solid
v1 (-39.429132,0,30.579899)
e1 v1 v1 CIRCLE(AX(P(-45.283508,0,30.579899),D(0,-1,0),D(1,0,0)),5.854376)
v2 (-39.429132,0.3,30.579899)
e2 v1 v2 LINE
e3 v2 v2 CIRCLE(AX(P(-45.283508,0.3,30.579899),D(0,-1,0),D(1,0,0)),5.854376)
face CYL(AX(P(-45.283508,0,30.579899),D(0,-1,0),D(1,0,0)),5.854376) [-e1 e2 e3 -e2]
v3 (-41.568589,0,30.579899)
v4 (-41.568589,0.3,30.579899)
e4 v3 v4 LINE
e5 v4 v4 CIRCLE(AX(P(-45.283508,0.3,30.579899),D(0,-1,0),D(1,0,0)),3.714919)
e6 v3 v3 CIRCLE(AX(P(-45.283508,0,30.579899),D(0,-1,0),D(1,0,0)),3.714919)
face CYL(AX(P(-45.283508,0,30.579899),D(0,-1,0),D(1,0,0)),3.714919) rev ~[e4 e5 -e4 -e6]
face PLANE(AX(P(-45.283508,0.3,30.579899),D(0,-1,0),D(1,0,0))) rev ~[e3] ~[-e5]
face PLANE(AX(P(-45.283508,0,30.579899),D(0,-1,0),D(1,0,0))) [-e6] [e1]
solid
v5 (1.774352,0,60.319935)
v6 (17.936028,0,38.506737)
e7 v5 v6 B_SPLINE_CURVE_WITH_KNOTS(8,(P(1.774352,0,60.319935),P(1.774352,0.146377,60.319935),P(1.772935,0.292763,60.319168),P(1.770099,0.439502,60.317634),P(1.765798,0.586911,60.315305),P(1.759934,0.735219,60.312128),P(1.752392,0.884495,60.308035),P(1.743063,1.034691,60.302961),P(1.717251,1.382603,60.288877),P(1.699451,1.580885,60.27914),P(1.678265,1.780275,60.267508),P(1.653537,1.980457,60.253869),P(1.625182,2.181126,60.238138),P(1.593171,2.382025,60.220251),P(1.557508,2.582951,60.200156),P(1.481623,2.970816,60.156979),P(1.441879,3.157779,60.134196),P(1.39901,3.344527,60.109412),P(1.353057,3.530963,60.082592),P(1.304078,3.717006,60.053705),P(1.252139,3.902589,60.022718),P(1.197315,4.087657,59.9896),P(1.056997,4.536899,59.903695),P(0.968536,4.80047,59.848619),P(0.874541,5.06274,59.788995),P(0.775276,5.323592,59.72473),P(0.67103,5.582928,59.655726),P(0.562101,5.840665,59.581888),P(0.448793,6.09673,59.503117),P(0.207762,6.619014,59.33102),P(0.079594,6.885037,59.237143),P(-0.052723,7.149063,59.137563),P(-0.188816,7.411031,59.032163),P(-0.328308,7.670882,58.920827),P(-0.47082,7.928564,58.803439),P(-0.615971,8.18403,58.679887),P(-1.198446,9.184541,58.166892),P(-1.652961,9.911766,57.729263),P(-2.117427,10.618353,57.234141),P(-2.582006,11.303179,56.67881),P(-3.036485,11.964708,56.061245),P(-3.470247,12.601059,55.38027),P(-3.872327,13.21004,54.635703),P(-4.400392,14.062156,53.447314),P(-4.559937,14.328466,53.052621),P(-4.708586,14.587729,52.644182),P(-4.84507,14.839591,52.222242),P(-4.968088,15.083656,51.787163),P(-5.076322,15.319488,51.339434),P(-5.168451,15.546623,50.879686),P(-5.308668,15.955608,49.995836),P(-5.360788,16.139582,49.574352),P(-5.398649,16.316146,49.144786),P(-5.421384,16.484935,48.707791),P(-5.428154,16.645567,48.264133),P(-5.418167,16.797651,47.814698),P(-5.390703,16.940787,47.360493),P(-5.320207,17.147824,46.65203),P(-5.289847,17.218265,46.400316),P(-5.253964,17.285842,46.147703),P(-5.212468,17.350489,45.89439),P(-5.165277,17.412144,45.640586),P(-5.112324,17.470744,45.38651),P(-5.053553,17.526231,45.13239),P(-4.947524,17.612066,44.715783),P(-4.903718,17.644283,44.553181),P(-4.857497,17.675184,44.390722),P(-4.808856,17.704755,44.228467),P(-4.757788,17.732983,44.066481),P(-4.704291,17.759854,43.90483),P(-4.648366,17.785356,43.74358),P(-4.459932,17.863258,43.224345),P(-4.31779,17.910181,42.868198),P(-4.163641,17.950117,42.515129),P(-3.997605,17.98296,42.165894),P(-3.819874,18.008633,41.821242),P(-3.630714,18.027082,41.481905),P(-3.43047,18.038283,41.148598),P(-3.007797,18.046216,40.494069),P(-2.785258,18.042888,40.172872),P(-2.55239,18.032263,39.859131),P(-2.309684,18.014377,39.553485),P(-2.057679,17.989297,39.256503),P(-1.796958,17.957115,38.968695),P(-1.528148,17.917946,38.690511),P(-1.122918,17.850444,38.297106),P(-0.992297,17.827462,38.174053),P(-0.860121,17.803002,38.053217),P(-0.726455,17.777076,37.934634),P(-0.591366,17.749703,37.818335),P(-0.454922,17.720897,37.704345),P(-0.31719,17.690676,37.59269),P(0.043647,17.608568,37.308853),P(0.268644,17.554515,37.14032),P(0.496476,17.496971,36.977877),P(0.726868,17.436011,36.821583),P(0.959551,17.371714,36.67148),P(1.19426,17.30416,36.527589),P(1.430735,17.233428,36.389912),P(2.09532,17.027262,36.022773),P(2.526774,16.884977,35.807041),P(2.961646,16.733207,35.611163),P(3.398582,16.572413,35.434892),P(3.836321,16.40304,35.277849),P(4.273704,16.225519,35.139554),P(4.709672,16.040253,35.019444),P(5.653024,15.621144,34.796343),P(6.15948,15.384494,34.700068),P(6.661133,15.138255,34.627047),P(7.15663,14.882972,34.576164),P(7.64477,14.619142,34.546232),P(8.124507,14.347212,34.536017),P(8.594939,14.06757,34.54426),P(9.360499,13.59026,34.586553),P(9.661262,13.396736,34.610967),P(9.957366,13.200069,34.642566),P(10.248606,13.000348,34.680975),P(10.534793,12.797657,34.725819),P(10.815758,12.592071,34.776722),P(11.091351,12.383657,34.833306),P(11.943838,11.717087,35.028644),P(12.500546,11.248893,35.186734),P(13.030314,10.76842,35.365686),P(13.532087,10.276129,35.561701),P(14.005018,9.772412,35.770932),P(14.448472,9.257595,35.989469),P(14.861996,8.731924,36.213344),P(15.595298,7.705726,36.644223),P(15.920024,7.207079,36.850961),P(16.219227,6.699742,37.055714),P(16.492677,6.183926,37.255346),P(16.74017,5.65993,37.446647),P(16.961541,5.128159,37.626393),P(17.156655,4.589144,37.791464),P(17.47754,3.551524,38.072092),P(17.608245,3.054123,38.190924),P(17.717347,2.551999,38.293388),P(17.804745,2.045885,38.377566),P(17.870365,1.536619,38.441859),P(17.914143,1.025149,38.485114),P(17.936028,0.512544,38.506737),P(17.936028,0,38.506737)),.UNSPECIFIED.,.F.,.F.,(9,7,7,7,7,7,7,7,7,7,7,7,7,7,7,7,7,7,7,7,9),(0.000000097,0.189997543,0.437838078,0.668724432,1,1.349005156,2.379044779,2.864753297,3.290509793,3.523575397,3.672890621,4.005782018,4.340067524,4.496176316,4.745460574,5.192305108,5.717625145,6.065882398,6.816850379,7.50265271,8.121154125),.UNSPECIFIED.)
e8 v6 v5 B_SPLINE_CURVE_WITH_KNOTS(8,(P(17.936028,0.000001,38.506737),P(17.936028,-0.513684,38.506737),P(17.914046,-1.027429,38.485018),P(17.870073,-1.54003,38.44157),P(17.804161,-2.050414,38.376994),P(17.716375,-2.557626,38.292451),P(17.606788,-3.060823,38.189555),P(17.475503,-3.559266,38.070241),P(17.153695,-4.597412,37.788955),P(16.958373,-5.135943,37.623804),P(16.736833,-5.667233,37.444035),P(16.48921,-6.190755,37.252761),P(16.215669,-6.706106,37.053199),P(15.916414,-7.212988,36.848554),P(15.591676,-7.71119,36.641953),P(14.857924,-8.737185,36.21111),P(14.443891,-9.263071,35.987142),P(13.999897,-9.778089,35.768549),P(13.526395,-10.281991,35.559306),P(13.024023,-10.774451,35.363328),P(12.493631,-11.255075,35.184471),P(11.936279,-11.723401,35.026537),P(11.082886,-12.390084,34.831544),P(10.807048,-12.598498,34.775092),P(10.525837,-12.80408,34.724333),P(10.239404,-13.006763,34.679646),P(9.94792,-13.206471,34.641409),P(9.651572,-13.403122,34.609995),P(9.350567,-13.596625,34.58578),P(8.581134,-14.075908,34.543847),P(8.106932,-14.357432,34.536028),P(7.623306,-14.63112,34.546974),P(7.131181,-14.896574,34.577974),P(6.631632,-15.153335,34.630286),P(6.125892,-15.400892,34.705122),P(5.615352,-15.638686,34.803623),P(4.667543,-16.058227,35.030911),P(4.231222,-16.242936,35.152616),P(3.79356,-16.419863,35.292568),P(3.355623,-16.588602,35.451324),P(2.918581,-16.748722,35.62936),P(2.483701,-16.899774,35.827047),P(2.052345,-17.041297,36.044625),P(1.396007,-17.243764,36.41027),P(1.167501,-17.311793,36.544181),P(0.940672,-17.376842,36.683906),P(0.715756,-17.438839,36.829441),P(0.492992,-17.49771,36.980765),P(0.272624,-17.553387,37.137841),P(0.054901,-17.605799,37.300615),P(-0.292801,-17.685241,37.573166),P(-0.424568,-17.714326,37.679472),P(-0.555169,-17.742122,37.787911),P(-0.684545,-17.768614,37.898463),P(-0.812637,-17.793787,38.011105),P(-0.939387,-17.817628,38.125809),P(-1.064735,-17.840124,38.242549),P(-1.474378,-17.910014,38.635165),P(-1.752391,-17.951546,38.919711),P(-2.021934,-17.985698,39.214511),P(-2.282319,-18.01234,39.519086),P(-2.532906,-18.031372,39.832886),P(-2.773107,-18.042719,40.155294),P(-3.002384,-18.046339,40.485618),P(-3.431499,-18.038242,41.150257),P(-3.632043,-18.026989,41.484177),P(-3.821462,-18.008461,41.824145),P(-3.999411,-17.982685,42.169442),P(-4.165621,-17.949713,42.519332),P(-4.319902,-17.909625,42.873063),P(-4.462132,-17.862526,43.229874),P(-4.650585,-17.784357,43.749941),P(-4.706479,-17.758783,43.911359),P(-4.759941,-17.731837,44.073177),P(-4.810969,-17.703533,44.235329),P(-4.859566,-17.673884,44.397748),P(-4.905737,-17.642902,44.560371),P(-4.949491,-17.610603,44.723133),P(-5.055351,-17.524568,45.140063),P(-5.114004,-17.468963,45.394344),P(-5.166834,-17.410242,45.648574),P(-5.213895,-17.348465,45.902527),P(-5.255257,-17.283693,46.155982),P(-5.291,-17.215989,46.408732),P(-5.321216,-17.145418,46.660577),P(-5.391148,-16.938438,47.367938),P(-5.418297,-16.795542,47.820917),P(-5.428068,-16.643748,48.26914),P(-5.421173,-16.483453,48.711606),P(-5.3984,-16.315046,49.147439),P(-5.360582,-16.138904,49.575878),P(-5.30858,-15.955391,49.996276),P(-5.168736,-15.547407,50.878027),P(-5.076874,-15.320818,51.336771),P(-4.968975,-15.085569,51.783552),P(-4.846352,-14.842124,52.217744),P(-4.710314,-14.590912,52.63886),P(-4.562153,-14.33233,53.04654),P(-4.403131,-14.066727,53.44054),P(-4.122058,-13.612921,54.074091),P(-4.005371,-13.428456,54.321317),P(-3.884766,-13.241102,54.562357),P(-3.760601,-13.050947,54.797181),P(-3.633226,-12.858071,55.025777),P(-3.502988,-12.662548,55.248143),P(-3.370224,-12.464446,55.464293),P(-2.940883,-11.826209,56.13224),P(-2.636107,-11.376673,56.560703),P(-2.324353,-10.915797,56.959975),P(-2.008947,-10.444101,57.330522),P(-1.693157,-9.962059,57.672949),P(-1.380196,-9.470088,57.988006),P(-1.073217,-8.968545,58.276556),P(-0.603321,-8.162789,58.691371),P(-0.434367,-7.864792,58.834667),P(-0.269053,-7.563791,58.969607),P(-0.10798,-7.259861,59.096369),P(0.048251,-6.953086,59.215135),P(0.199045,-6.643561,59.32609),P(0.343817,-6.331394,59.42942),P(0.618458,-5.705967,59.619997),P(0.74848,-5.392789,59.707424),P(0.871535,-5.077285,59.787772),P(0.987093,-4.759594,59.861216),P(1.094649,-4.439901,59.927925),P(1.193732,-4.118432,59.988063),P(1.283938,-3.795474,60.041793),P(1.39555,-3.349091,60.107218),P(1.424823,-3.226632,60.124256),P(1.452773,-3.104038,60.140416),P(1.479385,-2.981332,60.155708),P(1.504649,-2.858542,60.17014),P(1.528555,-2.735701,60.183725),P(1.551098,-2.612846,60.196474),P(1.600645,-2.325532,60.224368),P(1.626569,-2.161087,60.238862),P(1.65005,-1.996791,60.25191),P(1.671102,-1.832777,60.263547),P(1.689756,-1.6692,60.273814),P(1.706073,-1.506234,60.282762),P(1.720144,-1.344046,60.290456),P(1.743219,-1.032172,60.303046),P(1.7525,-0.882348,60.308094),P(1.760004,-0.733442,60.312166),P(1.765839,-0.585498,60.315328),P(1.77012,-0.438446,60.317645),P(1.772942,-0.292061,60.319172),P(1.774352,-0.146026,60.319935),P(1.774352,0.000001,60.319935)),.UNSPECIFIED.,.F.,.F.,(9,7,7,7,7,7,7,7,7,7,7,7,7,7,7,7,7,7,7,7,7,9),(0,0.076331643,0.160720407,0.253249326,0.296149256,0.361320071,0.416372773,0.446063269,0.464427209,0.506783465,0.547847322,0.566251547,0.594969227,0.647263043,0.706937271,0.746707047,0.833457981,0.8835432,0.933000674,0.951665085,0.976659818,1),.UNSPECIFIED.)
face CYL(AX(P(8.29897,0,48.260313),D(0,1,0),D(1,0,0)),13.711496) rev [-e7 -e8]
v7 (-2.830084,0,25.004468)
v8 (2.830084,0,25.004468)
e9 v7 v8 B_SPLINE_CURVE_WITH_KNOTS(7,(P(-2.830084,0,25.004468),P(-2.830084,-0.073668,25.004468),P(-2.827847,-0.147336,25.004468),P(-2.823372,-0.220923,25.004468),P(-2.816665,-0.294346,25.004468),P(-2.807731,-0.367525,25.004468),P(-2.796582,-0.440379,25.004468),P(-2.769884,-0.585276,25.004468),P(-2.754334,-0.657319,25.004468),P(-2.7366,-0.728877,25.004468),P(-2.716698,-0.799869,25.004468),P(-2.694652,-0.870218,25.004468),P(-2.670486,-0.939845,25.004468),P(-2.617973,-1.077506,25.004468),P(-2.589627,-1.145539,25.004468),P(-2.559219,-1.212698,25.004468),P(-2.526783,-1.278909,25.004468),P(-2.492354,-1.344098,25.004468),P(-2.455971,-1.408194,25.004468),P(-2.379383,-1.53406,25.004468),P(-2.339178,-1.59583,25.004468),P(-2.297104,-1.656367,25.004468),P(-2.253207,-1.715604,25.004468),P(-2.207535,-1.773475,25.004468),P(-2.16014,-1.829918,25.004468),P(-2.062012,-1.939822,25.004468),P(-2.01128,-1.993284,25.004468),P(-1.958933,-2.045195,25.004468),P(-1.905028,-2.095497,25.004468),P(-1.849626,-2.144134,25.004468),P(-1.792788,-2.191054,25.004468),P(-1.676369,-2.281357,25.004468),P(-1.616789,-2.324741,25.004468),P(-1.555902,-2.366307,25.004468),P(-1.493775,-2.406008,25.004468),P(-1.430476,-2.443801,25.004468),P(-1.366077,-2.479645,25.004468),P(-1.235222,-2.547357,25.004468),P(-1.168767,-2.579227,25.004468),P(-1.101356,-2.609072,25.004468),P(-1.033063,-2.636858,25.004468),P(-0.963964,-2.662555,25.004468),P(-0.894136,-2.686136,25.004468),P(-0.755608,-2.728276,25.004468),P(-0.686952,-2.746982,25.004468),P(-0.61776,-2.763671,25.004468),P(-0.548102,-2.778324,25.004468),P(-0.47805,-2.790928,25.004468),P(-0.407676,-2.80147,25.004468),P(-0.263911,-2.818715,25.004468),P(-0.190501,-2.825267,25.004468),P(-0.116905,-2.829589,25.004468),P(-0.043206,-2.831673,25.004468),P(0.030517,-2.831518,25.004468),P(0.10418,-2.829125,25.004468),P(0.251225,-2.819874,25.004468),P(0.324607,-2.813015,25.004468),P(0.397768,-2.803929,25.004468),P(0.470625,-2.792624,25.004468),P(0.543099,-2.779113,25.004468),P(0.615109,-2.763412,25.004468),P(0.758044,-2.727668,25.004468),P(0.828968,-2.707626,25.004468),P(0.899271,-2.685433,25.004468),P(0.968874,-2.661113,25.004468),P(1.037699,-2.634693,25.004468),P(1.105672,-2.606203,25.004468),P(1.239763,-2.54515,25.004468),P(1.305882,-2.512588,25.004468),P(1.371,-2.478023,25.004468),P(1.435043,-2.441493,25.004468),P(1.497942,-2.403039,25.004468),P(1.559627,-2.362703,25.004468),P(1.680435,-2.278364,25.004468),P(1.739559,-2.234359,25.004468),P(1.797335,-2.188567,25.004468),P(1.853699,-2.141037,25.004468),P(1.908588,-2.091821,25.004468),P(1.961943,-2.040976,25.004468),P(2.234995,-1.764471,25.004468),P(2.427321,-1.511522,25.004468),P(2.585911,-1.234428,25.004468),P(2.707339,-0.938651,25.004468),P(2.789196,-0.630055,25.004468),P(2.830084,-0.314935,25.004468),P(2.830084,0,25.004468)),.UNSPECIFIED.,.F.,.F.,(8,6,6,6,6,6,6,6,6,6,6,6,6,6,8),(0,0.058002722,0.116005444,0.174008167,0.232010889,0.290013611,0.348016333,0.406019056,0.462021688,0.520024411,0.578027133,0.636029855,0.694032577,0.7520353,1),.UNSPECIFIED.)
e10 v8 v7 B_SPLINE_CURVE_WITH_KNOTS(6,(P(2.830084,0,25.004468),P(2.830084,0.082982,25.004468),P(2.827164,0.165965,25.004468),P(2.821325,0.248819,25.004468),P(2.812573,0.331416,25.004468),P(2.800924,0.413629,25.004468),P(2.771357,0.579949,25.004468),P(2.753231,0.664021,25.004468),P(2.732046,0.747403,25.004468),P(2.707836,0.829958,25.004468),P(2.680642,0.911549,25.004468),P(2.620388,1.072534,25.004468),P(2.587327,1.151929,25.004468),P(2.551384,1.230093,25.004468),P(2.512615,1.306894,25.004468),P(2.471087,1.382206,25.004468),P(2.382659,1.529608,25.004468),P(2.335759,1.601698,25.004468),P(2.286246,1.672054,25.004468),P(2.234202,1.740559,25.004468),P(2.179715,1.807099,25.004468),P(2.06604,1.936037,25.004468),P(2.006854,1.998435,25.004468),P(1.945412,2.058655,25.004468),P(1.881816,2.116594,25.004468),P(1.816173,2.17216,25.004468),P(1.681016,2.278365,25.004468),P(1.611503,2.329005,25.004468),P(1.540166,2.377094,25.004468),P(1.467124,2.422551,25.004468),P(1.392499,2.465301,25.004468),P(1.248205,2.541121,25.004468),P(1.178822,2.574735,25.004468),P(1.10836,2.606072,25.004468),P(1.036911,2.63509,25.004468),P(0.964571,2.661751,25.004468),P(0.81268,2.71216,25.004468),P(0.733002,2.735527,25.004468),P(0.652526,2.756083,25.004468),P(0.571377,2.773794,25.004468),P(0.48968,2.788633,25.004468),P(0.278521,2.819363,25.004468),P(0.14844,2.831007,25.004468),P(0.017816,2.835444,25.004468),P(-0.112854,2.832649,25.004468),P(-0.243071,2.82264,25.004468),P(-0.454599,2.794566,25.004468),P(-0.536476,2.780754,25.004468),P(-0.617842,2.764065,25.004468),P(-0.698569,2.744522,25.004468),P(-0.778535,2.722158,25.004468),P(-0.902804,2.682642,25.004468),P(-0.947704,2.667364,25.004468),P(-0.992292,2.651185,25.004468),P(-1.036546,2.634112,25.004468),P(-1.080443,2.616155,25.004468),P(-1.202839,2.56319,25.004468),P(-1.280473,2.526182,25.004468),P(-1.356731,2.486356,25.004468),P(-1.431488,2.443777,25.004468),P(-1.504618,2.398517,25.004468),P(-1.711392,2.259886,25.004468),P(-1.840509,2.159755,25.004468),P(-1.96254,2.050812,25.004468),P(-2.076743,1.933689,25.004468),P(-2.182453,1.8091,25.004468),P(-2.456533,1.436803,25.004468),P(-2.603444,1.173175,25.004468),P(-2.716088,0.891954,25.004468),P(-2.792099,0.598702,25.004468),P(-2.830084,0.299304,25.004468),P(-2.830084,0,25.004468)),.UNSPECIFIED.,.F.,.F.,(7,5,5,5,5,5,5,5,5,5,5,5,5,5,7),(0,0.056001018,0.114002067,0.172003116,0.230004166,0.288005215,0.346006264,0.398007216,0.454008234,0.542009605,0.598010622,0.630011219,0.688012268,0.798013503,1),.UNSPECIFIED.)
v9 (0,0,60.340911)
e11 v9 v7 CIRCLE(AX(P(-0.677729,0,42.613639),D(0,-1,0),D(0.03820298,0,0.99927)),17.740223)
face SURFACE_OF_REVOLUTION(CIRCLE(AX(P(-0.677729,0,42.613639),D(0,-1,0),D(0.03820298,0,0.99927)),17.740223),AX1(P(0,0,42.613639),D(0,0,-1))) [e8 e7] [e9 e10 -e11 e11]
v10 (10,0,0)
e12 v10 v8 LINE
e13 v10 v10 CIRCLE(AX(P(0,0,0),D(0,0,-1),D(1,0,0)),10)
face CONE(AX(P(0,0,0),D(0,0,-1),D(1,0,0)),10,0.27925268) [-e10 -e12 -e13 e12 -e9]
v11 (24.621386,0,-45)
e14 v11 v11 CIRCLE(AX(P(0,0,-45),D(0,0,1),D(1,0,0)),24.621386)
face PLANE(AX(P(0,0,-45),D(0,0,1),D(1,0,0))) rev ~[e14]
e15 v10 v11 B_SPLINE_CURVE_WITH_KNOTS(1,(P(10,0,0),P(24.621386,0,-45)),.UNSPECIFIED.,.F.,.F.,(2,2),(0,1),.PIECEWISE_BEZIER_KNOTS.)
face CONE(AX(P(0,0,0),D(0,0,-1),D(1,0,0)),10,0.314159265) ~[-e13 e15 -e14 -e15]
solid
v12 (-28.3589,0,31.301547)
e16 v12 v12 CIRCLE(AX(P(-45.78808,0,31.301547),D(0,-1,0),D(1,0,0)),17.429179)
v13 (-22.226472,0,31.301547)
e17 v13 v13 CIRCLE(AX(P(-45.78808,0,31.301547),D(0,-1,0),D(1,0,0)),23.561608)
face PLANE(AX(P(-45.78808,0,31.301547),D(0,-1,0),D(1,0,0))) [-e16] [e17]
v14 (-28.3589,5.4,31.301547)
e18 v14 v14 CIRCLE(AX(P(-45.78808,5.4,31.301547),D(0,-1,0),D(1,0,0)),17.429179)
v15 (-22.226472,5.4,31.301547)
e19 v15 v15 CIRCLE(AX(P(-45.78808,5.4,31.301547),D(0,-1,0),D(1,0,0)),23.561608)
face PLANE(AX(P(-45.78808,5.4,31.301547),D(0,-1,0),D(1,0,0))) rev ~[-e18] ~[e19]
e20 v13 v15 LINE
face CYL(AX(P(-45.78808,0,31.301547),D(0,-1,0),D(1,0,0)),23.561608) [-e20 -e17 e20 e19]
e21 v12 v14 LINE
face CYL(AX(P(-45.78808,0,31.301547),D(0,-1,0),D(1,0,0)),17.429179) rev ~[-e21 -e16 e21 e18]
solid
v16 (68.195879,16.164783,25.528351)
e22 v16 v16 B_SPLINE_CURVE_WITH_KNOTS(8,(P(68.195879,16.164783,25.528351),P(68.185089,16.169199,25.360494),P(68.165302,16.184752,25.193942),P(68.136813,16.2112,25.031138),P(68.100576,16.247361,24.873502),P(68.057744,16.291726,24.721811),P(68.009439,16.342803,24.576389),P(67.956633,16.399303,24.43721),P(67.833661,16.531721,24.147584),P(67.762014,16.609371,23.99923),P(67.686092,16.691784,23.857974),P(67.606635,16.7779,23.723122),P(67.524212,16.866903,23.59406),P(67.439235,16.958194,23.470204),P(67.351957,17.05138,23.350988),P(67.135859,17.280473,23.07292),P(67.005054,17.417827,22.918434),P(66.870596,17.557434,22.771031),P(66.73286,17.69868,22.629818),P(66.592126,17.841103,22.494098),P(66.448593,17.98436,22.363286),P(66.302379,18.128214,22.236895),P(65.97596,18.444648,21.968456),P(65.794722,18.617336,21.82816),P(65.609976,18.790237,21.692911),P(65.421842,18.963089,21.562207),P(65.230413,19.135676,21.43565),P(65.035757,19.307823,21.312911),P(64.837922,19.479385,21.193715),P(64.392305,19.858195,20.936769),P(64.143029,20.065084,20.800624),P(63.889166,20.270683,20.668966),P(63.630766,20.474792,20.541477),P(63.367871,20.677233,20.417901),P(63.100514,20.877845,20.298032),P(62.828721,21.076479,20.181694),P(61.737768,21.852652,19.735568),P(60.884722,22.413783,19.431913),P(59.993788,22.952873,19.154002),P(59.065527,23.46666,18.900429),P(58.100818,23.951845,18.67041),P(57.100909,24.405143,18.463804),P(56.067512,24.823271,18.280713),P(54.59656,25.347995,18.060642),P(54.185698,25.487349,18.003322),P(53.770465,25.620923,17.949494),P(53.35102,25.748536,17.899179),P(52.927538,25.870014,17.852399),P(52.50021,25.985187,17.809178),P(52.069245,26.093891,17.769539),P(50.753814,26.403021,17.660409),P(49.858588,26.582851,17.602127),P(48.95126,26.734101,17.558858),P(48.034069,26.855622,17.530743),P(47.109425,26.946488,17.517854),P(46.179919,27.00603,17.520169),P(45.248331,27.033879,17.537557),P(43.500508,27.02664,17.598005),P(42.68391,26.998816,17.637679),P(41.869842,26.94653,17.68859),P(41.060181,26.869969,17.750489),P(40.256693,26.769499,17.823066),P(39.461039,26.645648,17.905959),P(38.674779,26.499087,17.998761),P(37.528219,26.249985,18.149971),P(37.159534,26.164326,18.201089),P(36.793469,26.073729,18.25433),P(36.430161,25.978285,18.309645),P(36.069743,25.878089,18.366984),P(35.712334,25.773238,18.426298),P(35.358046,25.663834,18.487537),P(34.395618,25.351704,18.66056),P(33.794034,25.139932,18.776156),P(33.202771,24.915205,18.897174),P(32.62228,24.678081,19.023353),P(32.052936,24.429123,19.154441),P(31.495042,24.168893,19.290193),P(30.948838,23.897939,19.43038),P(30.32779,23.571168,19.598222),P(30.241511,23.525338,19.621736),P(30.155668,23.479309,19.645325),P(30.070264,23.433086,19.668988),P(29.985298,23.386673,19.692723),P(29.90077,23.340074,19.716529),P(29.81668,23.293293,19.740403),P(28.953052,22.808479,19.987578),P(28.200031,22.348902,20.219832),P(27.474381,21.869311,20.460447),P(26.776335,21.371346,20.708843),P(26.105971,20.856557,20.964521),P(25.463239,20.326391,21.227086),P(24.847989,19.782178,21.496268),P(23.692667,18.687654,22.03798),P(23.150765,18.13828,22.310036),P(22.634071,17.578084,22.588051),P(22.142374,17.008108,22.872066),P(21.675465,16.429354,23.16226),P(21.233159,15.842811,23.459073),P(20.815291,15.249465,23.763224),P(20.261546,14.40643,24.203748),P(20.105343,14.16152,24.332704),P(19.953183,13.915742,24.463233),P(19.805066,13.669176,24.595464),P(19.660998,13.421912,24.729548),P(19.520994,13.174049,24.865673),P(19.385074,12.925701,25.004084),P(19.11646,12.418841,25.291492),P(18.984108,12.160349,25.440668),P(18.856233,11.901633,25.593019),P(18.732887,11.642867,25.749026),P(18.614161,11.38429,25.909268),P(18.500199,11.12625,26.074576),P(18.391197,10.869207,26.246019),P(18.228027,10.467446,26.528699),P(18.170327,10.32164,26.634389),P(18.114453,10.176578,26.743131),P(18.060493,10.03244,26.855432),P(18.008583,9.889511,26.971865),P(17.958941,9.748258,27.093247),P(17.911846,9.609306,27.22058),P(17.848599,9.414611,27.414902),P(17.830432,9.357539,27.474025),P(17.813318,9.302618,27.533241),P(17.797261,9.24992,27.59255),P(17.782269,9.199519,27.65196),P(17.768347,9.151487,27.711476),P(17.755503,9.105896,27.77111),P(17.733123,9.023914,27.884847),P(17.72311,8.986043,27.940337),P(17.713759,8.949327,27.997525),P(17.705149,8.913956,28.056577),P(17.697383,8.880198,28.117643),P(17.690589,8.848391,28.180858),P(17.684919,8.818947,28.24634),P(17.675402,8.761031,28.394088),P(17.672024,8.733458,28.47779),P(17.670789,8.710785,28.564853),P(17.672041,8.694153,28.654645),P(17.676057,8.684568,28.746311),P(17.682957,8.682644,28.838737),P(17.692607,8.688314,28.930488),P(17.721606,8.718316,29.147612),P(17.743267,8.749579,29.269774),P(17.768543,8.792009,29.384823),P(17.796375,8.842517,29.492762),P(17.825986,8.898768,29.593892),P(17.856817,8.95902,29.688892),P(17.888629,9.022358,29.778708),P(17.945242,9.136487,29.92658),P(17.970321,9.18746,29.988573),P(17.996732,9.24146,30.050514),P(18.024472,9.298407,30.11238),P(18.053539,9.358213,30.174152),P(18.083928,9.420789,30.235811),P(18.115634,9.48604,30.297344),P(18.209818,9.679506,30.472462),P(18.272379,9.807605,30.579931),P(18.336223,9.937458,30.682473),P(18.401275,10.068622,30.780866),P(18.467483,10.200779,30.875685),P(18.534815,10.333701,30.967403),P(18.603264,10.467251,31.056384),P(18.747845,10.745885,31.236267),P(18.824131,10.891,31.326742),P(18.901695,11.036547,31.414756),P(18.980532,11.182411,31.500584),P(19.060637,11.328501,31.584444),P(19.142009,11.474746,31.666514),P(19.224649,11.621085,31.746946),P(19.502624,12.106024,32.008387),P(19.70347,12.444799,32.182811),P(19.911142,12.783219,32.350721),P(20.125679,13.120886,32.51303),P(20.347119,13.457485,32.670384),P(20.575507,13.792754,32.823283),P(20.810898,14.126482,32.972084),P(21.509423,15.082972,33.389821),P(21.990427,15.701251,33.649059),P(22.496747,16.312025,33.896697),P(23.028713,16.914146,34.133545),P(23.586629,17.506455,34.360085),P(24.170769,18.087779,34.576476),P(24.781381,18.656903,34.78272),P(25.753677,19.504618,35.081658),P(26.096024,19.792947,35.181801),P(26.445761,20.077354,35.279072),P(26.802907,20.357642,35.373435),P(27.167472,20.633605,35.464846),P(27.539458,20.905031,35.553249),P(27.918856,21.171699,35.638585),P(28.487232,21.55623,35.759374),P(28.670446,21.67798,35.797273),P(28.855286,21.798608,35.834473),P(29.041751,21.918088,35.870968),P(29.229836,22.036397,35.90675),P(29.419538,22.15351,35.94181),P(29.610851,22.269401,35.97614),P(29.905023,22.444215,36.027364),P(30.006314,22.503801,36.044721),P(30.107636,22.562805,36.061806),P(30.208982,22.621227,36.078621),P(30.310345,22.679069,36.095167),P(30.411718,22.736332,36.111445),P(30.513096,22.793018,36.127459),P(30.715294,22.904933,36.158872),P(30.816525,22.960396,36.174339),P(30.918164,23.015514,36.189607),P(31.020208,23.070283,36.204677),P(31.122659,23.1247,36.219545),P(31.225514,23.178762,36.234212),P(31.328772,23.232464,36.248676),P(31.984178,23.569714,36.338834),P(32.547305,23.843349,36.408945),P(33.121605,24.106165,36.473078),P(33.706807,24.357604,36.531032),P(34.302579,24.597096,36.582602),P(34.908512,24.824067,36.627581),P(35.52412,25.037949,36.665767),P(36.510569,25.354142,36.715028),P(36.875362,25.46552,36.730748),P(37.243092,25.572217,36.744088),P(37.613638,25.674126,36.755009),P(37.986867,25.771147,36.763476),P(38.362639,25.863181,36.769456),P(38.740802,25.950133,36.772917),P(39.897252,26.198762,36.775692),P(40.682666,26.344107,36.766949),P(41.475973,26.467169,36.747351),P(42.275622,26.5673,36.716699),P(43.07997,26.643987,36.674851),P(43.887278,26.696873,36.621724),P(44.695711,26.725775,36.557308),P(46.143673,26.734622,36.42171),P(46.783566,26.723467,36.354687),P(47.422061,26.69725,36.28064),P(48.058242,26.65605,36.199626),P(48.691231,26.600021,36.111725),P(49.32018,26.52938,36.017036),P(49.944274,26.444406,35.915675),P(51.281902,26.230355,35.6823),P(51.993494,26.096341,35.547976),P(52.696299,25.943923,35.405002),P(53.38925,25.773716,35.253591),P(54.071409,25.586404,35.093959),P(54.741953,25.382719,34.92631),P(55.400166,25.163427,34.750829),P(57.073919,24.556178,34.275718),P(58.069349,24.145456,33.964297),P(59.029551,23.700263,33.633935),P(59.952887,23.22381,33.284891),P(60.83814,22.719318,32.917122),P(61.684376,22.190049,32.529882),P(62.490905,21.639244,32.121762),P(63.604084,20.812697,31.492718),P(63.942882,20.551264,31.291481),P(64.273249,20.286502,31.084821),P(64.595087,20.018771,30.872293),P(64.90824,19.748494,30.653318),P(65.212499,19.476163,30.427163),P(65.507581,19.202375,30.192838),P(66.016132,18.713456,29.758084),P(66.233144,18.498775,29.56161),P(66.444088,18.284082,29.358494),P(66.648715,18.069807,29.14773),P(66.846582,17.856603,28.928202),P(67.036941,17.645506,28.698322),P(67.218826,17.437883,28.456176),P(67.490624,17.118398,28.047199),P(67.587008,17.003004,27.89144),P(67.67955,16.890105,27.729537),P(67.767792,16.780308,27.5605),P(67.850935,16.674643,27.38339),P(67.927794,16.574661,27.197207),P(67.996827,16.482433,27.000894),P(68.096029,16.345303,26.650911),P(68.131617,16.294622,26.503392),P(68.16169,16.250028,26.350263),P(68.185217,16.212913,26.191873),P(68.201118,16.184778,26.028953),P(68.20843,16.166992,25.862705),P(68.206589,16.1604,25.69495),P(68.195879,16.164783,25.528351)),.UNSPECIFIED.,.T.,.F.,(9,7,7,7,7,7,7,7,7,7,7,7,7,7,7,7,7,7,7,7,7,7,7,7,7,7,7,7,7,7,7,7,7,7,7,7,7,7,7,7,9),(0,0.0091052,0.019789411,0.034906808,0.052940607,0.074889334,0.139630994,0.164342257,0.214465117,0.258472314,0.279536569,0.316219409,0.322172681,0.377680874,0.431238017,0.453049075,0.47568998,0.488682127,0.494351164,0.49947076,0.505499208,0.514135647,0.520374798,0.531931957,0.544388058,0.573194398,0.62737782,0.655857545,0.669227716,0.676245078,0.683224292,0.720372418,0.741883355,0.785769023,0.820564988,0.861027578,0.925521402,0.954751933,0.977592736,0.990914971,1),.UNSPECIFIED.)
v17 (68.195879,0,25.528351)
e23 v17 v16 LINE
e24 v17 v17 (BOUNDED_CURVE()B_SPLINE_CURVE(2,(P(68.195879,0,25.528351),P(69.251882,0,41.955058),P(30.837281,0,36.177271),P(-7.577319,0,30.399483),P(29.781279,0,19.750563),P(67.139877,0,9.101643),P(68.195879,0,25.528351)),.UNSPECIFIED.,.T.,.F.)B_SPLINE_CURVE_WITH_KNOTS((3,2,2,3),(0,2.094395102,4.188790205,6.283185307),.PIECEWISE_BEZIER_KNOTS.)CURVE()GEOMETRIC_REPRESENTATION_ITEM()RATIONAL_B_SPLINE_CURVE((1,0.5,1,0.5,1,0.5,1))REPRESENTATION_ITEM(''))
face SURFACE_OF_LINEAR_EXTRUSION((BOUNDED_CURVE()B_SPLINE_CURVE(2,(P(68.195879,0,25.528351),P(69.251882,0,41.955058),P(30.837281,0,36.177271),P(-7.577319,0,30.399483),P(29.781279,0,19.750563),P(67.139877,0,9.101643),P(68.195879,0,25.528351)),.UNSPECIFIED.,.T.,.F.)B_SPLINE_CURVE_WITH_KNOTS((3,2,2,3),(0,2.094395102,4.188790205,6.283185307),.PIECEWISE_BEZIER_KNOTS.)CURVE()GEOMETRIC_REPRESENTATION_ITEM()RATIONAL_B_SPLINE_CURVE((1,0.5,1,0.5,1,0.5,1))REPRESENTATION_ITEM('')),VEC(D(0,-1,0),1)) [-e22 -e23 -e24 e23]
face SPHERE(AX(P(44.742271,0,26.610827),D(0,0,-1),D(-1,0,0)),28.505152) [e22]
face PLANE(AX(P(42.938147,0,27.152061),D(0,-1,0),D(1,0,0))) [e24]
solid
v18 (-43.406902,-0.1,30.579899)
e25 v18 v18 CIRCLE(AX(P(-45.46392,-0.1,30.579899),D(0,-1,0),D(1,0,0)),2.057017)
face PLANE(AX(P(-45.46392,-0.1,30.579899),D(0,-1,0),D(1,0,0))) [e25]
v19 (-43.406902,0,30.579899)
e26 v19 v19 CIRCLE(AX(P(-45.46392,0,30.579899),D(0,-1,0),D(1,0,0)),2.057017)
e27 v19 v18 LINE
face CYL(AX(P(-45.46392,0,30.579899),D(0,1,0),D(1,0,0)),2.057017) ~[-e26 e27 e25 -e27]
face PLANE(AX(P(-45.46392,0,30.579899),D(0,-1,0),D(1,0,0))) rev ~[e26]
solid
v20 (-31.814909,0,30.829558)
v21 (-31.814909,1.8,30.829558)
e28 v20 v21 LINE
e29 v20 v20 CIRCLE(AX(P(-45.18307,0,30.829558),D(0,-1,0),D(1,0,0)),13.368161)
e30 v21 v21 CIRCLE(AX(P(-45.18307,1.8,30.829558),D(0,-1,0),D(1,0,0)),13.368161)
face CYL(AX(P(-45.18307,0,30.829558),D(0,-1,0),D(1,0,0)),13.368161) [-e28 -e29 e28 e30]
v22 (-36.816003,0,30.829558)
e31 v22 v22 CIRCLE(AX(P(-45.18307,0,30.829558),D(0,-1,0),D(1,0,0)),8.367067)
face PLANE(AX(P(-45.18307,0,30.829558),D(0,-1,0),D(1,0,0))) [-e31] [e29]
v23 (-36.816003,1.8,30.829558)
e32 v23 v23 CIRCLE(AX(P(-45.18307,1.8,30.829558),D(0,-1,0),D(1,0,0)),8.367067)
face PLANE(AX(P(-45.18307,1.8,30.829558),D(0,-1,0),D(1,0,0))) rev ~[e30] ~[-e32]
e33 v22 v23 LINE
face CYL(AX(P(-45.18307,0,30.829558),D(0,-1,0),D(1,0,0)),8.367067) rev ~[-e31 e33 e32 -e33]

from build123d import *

# Parameters (mm, degrees)
F0_R          = 10
F1_DEPTH      = 106
F1_TAPER      = 16
F1_DEPTH_BACK = 45
F1_TAPER_BACK = -18
F4_R          = 13.7114960036
F5_DEPTH      = 25
F5_DEPTH_BACK = 31.1
F9_DEPTH      = 89.7
F10_R         = 23.5616078349
F10_R_2       = 17.4291794395
F11_DEPTH     = 5.4
F12_R         = 13.3681608063
F12_R_2       = 8.3670673729
F13_DEPTH     = 1.8
F14_R         = 5.8543755039
F14_R_2       = 3.7149188708
F15_DEPTH     = 0.3
F16_R         = 2.0570171847
F17_DEPTH     = 0.1


with BuildPart() as f1:
    # F0 (on Top) → F1 (new body, two sides)
    with BuildSketch(Plane.XY) as f1_sk:
        Circle(F0_R)
    extrude(amount=F1_DEPTH, taper=F1_TAPER)
    extrude(f1_sk.sketch, amount=-F1_DEPTH_BACK, taper=F1_TAPER_BACK)

    # F2 (on Front) → F3 (revolve)
    with BuildSketch(Plane.XZ):
        with BuildLine():
            Line((0, 24.8863659799), (0, 60.34091115))
            ThreePointArc((0, 60.34091115), (-18.4179523353, 42.6136385649), (0, 24.8863659799))
        make_face()
    revolve(axis=Axis((0, 0, 42.6136385649), (0, 0, -1)))

    # F4 (on Front) → F5 (cut, two sides)
    with BuildSketch(Plane.XZ) as f5_sk:
        with Locations((8.2989698276, 48.2603125274)):
            Circle(F4_R)
    extrude(amount=-F5_DEPTH, mode=Mode.SUBTRACT)
    extrude(f5_sk.sketch, amount=F5_DEPTH_BACK, mode=Mode.SUBTRACT)


with BuildPart() as f7:
    # F6 (on Front) → F7 (revolve)
    with BuildSketch(Plane.XZ):
        with BuildLine():
            Line((44.7422713041, 26.6108270735), (44.7422713041, 55.1159791648))
            ThreePointArc((44.7422713041, 55.1159791648), (16.2371192127, 26.6108270735), (44.7422713041, -1.8943250179))
            Line((44.7422713041, -1.8943250179), (44.7422713041, 26.6108270735))
        make_face()
    revolve(axis=Axis((44.7422713041, 0, 12.3582510278), (0, 0, -1)))

    # F8 (on Front) → F9 (intersect)
    with BuildSketch(Plane.XZ):
        with BuildLine():
            add(Edge.make_bspline(
                [(68.1958794594, 25.528350845), (69.2518815886, 41.9550584393), (30.8372814452, 36.1772705683), (-7.5773186982, 30.3994826972), (29.781279316, 19.750562974), (67.1398773302, 9.1016432507), (68.1958794594, 25.528350845)],
                knots=[0, 0, 0, 2.0943951024, 2.0943951024, 4.1887902048, 4.1887902048, 6.2831853072, 6.2831853072, 6.2831853072], degree=2, weights=[1, 0.5, 1, 0.5, 1, 0.5, 1]))
        make_face()
    extrude(amount=-F9_DEPTH, mode=Mode.INTERSECT)


with BuildPart() as f11:
    # F10 (on Front) → F11 (new body)
    with BuildSketch(Plane.XZ):
        with Locations((-45.7880795002, 31.3015468419)):
            Circle(F10_R)
        with Locations((-45.7880795002, 31.3015468419)):
            Circle(F10_R_2, mode=Mode.SUBTRACT)
    extrude(amount=-F11_DEPTH)


with BuildPart() as f13:
    # F12 (on Front) → F13 (new body)
    with BuildSketch(Plane.XZ):
        with Locations((-45.183070004, 30.829558149)):
            Circle(F12_R)
        with Locations((-45.183070004, 30.829558149)):
            Circle(F12_R_2, mode=Mode.SUBTRACT)
    extrude(amount=-F13_DEPTH)


with BuildPart() as f15:
    # F14 (on Front) → F15 (new body)
    with BuildSketch(Plane.XZ):
        with Locations((-45.2835075557, 30.5798985064)):
            Circle(F14_R)
        with Locations((-45.2835075557, 30.5798985064)):
            Circle(F14_R_2, mode=Mode.SUBTRACT)
    extrude(amount=-F15_DEPTH)


with BuildPart() as f17:
    # F16 (on Front) → F17 (new body)
    with BuildSketch(Plane.XZ):
        with Locations((-45.4639196396, 30.5798985064)):
            Circle(F16_R)
    extrude(amount=F17_DEPTH)


solid = Compound([f1.part, f7.part, f11.part, f13.part, f15.part, f17.part])
